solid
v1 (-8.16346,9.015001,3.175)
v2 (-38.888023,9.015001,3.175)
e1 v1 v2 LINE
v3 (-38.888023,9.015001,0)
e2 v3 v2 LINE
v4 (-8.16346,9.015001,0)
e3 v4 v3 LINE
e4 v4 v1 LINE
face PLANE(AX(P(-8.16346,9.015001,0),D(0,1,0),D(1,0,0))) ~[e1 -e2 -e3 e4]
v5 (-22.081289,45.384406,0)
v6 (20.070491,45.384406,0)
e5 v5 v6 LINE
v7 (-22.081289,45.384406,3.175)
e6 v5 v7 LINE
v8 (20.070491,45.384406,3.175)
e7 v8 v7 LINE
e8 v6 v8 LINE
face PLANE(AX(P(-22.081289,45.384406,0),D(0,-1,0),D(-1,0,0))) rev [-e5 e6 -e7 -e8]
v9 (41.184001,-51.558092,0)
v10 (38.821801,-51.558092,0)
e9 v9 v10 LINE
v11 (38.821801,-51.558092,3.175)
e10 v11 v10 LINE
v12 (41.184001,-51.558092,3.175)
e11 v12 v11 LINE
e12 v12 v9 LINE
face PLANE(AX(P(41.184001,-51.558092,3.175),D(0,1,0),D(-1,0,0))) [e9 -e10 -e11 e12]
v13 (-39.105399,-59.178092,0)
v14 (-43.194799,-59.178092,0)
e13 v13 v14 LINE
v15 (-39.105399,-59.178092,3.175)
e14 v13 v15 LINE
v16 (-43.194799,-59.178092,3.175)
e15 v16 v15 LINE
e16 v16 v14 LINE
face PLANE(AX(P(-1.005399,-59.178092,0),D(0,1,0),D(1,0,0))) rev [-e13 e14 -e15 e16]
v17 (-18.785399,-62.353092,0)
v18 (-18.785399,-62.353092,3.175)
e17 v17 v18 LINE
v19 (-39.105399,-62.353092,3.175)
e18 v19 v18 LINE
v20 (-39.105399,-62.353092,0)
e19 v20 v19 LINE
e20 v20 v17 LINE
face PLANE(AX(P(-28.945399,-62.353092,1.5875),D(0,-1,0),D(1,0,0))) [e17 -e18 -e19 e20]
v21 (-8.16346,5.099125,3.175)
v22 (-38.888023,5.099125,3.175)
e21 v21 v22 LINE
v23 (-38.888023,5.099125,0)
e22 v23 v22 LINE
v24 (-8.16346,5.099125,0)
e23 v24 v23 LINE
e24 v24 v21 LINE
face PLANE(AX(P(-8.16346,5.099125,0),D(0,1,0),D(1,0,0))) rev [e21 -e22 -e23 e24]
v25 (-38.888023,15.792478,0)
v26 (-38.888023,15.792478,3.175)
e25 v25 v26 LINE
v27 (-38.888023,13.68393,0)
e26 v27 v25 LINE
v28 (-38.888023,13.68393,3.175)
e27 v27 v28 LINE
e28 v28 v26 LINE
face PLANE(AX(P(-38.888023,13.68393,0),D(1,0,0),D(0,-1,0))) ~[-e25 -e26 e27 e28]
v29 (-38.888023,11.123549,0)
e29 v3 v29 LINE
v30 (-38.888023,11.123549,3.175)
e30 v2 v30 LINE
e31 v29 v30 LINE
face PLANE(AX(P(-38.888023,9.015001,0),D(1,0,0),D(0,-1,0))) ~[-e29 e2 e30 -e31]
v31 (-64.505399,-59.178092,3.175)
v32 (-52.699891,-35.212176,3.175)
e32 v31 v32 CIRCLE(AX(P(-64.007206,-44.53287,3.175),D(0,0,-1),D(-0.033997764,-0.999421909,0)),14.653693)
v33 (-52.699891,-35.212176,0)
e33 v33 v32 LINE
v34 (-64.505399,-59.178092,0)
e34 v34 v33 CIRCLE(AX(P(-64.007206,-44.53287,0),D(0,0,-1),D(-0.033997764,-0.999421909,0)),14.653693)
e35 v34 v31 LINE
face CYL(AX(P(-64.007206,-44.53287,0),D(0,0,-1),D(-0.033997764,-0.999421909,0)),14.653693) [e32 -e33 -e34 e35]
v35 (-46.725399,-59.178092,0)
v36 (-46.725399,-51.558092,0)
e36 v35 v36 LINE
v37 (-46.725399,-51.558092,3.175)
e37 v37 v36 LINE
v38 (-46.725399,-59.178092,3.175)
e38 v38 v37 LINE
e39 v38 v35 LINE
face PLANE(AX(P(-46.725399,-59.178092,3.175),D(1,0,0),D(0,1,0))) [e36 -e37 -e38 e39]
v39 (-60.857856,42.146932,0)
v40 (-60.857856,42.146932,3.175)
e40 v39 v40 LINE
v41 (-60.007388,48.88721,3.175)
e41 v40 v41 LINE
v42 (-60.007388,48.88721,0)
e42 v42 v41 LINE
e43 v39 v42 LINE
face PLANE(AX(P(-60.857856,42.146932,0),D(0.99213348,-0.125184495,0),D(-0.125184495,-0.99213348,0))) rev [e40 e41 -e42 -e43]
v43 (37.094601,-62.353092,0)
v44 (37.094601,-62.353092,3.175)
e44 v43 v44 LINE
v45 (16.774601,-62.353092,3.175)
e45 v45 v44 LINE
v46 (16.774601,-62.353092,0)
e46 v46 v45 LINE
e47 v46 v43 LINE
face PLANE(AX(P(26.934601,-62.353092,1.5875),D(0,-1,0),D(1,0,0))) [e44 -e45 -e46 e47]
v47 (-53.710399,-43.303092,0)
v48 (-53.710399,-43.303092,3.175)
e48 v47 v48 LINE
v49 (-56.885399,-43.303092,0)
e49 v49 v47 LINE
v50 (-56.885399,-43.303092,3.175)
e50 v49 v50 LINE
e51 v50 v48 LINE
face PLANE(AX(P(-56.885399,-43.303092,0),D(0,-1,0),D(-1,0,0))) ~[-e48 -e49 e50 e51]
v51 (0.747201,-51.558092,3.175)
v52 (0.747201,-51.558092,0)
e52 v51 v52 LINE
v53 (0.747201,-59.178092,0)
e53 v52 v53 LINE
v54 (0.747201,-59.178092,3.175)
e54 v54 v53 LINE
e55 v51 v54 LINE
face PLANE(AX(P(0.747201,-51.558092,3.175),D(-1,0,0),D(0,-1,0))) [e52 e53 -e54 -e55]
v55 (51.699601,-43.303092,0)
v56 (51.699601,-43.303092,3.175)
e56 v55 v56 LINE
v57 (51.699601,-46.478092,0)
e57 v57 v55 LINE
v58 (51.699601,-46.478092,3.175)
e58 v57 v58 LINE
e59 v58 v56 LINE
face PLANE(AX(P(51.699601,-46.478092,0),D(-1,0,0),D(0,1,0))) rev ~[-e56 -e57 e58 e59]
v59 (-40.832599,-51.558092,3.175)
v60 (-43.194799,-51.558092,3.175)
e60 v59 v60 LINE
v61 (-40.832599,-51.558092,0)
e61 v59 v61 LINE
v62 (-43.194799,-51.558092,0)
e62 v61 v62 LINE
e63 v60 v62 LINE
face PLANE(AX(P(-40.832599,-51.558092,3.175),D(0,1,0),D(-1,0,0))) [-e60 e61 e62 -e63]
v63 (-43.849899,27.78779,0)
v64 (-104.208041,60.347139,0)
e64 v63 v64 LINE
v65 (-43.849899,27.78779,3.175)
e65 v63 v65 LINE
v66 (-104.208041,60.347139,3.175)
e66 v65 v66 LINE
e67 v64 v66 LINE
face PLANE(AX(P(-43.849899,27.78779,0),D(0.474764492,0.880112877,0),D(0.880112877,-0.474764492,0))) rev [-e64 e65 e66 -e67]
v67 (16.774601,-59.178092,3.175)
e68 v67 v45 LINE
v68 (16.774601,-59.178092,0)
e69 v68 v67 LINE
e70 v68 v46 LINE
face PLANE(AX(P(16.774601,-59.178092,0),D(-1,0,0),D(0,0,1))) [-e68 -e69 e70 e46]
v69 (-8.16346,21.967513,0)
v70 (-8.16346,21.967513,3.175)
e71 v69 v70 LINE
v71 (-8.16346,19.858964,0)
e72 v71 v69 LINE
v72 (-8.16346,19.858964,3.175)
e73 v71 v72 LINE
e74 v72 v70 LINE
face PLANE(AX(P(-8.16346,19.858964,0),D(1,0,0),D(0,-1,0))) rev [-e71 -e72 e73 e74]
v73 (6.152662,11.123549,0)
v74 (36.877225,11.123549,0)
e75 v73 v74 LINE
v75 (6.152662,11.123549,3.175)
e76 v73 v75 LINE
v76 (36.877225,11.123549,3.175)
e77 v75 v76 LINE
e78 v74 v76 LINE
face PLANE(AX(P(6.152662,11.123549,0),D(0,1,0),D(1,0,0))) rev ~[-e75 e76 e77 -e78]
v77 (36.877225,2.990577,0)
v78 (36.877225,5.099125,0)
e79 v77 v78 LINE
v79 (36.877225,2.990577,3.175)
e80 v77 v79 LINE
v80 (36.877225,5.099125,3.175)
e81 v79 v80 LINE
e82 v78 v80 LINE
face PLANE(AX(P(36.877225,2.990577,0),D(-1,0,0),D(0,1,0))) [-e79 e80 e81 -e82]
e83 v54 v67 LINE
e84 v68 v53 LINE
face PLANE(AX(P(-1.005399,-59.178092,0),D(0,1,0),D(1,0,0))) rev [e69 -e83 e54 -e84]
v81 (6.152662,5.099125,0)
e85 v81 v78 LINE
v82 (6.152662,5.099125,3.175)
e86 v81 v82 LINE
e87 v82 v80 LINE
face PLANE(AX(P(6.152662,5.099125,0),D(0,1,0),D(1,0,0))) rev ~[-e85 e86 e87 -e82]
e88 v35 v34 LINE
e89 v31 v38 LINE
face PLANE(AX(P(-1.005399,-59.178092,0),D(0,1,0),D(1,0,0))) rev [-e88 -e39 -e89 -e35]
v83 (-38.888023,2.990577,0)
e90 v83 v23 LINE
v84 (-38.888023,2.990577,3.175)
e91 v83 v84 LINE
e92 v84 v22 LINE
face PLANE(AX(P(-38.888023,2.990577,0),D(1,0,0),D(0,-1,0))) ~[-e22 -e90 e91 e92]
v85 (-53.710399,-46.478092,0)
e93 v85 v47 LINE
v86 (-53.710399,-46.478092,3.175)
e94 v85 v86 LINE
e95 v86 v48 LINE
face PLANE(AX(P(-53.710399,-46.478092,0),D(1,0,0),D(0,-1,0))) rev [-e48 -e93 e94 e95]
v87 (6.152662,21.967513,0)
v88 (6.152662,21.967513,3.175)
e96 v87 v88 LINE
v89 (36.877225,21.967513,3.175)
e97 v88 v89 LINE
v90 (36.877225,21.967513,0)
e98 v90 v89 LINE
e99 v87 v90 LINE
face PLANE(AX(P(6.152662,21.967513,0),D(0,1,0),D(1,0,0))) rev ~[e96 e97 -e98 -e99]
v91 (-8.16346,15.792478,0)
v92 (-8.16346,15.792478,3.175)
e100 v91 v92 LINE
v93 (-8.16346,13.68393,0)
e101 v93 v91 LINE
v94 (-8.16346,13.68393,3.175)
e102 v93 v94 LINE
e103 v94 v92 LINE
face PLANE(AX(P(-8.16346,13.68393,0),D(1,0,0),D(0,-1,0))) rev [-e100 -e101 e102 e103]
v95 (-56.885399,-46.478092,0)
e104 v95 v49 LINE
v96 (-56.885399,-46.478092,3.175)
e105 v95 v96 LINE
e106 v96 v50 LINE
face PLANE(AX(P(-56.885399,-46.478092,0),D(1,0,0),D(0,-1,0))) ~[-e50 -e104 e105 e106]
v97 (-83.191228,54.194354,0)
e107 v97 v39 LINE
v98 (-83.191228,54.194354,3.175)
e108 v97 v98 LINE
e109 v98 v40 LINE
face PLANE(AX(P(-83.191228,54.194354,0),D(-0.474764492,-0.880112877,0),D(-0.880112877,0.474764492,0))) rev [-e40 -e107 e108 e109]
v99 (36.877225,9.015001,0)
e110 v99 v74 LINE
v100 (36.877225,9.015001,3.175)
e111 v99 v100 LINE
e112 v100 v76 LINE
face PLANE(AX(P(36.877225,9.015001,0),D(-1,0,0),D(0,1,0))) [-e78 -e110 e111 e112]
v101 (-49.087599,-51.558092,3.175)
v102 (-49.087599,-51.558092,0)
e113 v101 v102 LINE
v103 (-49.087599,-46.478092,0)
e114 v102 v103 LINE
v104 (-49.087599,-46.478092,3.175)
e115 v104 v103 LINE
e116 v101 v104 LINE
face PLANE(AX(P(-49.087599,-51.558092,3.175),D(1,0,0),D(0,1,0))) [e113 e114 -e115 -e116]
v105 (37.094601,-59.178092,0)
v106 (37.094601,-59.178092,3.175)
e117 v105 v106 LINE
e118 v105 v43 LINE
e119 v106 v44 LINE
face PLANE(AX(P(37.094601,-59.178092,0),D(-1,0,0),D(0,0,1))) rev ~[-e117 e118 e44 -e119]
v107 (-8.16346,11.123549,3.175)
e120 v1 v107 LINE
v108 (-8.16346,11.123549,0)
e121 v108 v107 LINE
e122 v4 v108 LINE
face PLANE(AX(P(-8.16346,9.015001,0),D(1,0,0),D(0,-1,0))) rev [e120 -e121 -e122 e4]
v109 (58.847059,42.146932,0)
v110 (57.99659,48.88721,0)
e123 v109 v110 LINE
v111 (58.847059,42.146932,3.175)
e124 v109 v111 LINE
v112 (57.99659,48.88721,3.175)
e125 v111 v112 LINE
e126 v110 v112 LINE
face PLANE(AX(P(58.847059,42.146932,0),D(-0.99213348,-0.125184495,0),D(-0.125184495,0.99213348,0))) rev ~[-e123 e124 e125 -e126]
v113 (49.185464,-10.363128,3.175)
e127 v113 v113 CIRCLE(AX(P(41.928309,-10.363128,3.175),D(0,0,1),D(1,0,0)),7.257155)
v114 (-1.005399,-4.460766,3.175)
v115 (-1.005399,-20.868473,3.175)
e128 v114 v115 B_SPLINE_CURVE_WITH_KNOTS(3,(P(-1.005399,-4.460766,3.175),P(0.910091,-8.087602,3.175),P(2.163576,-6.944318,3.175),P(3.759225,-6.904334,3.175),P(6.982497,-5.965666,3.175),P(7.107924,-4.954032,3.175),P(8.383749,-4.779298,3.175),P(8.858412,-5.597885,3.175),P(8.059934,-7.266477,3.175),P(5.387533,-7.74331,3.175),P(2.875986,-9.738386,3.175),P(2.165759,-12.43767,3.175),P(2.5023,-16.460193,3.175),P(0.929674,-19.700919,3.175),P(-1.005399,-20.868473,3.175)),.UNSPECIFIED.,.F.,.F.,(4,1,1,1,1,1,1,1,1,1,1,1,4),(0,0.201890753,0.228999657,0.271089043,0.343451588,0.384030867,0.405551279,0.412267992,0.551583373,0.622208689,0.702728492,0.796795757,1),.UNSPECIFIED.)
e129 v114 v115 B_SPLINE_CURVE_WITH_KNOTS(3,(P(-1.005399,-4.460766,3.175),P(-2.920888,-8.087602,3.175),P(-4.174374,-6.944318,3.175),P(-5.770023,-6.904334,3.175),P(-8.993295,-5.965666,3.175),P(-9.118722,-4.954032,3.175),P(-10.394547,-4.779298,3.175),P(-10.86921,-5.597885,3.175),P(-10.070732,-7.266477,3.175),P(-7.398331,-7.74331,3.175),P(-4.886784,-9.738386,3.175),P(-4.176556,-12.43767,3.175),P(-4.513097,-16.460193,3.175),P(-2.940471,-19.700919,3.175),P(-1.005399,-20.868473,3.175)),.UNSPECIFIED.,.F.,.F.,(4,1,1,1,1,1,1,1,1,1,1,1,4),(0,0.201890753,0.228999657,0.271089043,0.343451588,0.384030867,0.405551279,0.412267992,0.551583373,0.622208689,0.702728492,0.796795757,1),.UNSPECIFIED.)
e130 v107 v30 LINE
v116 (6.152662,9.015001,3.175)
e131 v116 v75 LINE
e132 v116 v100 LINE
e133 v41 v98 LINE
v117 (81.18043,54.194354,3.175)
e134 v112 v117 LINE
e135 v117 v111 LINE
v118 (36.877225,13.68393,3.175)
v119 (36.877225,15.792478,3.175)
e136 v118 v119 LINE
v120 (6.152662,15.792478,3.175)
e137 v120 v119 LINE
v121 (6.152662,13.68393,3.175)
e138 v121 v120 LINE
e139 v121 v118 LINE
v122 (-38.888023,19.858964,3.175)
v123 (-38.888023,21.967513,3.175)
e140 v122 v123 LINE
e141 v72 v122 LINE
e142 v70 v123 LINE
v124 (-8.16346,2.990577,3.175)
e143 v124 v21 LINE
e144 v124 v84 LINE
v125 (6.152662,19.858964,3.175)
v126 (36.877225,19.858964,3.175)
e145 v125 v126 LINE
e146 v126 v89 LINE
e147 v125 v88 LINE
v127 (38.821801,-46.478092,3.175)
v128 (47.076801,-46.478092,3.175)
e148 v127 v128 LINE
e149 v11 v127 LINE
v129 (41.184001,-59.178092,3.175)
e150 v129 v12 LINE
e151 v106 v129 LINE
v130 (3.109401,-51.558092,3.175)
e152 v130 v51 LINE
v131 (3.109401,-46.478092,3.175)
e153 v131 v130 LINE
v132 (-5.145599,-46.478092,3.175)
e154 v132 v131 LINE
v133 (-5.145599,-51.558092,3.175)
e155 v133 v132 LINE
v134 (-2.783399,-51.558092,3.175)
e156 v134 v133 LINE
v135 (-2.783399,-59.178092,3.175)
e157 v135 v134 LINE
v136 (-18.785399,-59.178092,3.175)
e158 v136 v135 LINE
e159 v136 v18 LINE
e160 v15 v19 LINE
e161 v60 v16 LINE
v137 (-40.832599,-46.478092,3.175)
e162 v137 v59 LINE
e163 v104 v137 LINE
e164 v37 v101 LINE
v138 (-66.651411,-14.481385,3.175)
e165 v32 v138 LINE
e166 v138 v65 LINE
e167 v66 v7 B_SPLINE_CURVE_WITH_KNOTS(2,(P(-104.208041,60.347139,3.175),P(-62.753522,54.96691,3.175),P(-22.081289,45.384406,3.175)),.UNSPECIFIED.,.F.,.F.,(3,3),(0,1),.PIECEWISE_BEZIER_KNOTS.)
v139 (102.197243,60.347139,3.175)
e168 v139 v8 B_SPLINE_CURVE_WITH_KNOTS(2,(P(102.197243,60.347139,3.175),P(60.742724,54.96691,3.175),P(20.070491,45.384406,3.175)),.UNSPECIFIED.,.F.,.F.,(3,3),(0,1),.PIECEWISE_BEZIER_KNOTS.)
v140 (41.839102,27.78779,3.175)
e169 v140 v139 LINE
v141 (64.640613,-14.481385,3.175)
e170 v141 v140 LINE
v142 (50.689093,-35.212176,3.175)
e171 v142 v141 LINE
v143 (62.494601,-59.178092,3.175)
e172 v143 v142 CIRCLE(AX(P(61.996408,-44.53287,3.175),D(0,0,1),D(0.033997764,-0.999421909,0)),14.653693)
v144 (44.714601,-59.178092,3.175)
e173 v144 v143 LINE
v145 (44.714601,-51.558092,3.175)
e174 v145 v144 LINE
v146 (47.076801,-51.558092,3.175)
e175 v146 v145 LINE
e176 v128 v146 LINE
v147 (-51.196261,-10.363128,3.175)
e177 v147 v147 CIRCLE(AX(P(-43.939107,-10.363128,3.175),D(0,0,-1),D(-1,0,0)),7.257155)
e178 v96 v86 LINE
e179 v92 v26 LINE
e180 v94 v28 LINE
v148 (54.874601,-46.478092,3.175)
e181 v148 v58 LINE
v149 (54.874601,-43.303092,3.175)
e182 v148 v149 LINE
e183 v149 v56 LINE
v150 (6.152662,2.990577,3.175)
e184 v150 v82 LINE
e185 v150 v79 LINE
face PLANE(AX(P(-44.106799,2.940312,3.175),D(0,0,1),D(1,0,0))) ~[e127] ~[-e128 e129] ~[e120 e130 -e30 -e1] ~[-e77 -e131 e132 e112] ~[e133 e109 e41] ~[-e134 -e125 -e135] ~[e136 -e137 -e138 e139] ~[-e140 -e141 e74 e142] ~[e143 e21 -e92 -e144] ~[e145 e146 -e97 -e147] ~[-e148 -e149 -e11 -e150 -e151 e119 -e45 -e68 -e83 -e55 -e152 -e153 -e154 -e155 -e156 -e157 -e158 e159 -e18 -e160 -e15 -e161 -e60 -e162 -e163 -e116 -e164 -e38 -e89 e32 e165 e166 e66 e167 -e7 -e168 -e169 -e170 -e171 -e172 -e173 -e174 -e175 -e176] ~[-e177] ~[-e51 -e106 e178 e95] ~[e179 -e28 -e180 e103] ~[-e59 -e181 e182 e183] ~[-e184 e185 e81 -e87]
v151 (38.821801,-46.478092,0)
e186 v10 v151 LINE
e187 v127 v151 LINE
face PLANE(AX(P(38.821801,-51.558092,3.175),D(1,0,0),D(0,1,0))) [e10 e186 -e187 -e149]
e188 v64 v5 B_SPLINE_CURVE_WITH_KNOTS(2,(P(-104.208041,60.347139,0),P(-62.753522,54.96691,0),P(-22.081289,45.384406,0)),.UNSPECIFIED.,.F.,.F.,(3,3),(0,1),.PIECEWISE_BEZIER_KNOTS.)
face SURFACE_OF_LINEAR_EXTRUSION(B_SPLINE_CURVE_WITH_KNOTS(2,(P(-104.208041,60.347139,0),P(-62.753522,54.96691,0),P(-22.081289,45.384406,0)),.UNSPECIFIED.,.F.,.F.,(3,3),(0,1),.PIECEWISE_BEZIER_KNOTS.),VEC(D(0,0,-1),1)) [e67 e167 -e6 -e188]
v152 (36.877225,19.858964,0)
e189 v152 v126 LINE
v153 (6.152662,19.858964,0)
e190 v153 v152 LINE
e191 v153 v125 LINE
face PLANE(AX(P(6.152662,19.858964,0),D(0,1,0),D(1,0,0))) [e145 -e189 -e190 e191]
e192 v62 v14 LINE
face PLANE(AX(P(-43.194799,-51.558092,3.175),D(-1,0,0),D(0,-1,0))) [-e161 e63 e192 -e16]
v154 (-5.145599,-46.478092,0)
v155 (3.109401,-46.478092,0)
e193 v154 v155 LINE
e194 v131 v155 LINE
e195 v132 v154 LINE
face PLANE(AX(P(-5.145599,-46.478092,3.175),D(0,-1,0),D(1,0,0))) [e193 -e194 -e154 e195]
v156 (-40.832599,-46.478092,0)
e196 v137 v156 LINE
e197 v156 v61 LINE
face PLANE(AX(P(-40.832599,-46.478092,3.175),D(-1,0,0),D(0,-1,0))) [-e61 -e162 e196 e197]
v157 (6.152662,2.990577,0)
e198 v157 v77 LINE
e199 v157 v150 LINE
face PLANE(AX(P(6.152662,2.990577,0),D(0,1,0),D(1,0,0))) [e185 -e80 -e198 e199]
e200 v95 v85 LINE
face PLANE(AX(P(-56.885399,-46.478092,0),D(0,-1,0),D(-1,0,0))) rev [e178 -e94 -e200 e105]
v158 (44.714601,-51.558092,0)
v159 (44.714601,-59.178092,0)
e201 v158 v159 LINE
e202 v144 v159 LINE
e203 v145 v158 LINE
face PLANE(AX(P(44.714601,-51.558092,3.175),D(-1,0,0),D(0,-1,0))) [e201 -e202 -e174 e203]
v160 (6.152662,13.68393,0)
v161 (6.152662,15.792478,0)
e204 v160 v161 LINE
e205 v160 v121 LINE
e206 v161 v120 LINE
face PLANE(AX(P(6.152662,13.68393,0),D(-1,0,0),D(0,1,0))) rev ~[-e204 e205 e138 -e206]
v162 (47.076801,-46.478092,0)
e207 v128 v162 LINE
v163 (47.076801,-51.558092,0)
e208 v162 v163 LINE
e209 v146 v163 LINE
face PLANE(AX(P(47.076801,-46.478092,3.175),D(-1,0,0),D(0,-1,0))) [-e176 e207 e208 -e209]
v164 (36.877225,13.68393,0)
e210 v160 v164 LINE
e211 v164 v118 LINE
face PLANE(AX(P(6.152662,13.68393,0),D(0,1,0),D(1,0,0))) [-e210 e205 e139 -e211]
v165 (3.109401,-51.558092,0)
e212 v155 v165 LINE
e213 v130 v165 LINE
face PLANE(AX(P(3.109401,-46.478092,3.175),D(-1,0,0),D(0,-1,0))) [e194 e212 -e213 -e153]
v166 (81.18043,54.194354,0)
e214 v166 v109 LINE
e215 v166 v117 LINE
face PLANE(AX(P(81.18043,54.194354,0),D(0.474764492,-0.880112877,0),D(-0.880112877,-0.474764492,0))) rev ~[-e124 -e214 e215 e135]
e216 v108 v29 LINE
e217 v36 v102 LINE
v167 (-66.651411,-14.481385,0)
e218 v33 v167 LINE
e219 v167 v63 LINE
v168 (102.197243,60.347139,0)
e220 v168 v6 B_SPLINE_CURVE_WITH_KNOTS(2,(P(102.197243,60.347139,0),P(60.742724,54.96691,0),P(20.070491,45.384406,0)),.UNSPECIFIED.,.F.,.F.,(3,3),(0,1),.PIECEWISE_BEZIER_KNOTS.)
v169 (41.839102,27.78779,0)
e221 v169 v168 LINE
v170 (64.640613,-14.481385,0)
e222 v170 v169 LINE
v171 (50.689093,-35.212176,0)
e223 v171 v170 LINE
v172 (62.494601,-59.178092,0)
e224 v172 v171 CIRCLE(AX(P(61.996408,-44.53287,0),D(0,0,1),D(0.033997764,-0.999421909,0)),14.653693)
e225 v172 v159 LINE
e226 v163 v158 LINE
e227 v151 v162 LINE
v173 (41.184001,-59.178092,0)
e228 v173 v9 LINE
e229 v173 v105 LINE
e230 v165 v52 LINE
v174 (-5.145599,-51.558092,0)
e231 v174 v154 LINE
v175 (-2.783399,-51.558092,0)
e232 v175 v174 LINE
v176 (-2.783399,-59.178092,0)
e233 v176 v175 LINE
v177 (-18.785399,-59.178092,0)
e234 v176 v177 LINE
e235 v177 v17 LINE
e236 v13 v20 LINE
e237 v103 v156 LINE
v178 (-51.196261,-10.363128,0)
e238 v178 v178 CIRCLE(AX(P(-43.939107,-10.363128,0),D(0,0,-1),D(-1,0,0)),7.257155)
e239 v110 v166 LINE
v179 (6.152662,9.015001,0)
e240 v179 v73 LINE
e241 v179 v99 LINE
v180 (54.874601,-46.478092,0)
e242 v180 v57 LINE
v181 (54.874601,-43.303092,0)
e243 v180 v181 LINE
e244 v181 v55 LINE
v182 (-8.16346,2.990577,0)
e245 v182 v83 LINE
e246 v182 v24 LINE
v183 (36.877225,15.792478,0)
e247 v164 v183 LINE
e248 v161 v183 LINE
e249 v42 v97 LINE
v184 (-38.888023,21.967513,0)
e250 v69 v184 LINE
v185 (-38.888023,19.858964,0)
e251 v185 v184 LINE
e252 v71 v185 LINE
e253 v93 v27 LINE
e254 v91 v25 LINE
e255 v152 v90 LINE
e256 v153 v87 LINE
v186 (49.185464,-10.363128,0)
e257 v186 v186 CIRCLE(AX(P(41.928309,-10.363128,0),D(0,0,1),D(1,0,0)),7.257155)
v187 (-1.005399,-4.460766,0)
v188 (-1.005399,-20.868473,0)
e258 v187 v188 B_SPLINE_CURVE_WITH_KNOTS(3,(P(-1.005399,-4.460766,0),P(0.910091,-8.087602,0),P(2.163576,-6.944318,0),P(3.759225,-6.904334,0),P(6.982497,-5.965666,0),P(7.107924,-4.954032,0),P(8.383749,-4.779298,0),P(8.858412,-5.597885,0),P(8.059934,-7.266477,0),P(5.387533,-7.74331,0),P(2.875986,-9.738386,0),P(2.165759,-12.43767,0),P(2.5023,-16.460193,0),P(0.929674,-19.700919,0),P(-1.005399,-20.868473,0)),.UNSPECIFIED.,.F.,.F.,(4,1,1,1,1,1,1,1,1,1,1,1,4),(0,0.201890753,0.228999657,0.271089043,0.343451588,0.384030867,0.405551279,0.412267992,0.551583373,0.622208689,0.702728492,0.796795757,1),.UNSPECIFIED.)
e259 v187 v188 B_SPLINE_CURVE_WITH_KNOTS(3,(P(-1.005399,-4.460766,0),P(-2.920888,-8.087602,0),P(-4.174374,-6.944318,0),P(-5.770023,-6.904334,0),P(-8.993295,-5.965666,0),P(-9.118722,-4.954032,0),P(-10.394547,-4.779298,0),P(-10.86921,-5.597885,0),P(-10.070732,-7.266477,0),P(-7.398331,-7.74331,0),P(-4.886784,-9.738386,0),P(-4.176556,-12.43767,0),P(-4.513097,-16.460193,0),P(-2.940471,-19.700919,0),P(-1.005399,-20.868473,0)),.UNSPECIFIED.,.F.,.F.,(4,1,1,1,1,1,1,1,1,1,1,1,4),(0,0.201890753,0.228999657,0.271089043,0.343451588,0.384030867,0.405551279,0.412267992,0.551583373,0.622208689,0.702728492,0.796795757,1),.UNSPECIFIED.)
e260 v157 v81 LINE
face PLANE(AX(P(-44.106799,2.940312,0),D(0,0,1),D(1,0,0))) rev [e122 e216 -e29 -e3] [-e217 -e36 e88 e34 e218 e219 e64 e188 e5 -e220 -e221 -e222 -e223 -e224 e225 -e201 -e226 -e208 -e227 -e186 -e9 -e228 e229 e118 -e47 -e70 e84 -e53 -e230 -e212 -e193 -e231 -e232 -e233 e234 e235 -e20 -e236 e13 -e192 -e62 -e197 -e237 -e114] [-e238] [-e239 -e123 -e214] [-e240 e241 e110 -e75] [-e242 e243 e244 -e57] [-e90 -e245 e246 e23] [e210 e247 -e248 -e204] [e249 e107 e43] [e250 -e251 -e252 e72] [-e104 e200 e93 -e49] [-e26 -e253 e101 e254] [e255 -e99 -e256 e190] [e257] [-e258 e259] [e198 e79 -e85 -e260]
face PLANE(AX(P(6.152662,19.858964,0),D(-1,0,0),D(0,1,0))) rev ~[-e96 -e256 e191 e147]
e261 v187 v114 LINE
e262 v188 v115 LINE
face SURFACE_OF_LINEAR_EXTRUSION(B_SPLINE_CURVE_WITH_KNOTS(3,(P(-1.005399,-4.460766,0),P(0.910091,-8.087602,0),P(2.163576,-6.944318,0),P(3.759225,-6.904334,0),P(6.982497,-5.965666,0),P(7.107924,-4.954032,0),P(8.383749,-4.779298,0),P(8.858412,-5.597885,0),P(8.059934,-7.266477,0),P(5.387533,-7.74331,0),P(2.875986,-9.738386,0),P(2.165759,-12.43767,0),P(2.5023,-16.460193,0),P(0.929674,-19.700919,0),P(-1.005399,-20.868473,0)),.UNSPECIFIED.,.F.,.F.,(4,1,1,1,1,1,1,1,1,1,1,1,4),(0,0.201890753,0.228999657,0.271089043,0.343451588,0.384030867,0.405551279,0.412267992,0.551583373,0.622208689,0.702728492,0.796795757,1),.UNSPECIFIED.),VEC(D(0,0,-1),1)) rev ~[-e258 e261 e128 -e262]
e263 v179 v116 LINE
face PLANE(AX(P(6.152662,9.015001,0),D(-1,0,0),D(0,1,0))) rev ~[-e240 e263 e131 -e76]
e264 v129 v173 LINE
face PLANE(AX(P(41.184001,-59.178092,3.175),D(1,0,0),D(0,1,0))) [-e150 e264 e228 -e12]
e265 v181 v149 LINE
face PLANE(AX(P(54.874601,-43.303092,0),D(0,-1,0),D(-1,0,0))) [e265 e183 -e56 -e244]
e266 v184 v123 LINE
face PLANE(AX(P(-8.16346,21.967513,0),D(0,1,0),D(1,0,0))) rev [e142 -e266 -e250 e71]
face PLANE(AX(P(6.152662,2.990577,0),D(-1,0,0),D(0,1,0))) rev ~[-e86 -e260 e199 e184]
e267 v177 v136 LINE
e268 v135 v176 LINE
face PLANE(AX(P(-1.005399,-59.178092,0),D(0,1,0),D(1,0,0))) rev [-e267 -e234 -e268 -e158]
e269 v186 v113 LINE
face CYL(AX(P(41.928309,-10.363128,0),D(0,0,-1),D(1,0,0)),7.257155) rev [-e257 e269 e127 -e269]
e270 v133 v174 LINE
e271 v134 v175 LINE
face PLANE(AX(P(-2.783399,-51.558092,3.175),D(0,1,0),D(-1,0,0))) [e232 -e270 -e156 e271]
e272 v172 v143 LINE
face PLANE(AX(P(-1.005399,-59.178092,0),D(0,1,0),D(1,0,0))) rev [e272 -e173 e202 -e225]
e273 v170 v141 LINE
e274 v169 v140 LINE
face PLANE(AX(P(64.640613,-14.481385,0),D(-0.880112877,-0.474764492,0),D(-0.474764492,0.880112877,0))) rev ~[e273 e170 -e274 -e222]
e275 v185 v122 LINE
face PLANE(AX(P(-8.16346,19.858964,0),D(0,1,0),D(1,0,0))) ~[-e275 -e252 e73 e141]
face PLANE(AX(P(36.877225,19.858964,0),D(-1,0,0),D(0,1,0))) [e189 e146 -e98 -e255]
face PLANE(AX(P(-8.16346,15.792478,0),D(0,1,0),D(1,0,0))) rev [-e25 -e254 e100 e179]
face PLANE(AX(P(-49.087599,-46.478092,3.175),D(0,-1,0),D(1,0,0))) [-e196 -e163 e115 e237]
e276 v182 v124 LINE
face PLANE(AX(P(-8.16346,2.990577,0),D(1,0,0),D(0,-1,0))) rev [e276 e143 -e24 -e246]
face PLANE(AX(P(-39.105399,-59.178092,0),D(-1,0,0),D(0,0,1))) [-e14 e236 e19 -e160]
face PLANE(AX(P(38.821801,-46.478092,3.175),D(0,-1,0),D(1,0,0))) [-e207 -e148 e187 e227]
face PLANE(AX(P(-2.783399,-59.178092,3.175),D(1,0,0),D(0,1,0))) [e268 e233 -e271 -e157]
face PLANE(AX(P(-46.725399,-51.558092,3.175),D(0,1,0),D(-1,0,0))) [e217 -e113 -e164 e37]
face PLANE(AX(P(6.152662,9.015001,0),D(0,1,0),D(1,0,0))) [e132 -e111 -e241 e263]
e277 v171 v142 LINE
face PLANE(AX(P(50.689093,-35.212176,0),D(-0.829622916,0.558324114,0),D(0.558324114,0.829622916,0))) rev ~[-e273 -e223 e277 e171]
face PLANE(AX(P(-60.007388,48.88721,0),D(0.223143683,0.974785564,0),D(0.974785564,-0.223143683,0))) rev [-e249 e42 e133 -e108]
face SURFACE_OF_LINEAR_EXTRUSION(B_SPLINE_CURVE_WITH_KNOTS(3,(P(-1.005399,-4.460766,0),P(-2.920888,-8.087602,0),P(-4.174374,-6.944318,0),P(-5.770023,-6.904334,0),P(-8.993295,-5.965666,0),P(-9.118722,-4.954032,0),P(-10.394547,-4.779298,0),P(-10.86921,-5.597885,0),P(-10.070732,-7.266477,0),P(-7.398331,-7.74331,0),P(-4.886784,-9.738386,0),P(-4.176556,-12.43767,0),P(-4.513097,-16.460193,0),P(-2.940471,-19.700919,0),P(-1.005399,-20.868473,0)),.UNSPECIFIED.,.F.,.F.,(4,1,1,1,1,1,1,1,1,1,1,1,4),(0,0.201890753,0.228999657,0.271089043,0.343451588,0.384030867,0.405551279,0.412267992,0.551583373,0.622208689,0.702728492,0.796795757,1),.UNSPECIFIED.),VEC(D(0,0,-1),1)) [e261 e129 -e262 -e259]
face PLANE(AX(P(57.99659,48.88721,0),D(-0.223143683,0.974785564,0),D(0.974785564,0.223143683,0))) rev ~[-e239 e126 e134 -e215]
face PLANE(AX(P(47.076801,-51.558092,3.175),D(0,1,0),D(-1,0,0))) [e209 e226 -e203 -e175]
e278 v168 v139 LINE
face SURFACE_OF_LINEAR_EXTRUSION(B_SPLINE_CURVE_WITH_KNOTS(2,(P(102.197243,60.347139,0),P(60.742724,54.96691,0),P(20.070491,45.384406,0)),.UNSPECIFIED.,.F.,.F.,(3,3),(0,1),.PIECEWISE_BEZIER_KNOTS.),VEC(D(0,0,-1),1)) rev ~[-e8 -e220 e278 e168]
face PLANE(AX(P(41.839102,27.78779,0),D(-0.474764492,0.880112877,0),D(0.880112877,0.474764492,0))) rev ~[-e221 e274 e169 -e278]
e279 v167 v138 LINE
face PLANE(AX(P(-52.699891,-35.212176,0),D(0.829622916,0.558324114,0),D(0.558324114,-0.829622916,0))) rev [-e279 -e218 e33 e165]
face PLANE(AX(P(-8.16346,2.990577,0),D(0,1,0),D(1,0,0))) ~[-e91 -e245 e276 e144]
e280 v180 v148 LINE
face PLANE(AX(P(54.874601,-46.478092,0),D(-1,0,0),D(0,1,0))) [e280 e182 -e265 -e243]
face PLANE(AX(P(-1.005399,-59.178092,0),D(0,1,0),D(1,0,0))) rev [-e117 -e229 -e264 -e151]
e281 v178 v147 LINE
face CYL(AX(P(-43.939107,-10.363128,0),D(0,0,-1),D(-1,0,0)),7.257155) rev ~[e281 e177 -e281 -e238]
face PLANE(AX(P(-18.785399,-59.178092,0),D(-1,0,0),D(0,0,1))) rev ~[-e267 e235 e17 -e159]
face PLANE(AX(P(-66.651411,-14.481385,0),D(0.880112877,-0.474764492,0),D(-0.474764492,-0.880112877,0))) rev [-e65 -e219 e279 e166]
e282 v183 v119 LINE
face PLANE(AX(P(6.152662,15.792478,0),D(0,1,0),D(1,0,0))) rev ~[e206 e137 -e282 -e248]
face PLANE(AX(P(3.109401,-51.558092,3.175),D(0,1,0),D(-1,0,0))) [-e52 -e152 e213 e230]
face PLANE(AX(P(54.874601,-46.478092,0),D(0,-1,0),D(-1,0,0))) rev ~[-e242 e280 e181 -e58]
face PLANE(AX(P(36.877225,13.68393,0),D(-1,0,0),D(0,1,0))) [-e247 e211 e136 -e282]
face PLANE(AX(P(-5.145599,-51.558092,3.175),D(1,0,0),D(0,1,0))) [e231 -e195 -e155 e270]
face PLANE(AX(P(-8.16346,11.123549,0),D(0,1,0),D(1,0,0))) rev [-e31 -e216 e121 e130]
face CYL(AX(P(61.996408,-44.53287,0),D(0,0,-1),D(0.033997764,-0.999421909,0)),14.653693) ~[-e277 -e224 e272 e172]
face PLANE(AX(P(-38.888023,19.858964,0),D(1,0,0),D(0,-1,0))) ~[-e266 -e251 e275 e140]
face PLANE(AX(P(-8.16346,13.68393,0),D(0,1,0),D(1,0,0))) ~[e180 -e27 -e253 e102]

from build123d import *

# Parameters (mm, degrees)
BOSS_EXTRUDE1_DEPTH = 3.175
SKETCH6_R           = 7.257154646
CUT_EXTRUDE5_DEPTH  = 3.175
SKETCH9_W           = 3.175
SKETCH9_H           = 3.175
CUT_EXTRUDE7_DEPTH  = 3.175
SKETCH8_W           = 30.724562626
SKETCH8_H           = 2.108548415
SKETCH8_H_2         = 2.108548416
CUT_EXTRUDE6_DEPTH  = 3.175
SKETCH10_W          = 20.32
SKETCH10_H          = 3.175
BOSS_EXTRUDE2_DEPTH = 3.175
CUT_EXTRUDE8_DEPTH  = 3.175


with BuildPart() as part:
    # Sketch1 → Boss-Extrude1 (new body)
    with BuildSketch(Plane.XY):
        with BuildLine():
            Line((41.839101774, 27.787790455), (102.197242912, 60.347139319))
            add(Edge.make_bspline(
                [(102.197242912, 60.347139319), (60.742723961, 54.966910385), (20.07049128, 45.384405553)],
                knots=[0, 0, 0, 1, 1, 1], degree=2))
            Line((20.07049128, 45.384405553), (-1.005398806, 45.384405553))
            Line((-1.005398806, 45.384405553), (-1.005398806, -59.17809155))
            Line((-1.005398806, -59.17809155), (62.494601194, -59.17809155))
            ThreePointArc((62.494601194, -59.17809155), (75.141770938, -38.057520175), (50.68909305, -35.212176281))
            Line((50.68909305, -35.212176281), (64.64061298, -14.48138505))
            Line((64.64061298, -14.48138505), (41.839101774, 27.787790455))
        make_face()
    boss_extrude1 = extrude(amount=BOSS_EXTRUDE1_DEPTH)

    # Sketch6 → Cut-Extrude5 (cut)
    with BuildSketch(Plane.XY):
        with Locations((41.928309242, -10.363128131)):
            Circle(SKETCH6_R)
        Polygon((57.996590192, 48.887210307), (81.18043036, 54.194354442), (58.847058779, 42.146931793), align=None)
        with BuildLine():
            Line((-1.005398806, -4.460766145), (-1.005398806, -20.868472516))
            add(Edge.make_bspline(
                [(-1.005398806, -4.460766145), (0.91009084, -8.087601817), (2.163575929, -6.944318239), (3.759225089, -6.904333812), (6.982497489, -5.965665574), (7.107924345, -4.954032148), (8.383749268, -4.7792984), (8.858412265, -5.597884514), (8.059934477, -7.266476525), (5.387533009, -7.743309848), (2.87598619, -9.738386244), (2.165758509, -12.437670072), (2.502299568, -16.460193064), (0.929673731, -19.700918611), (-1.005398806, -20.868472516)],
                knots=[0, 0, 0, 0, 0.201890753, 0.228999657, 0.271089043, 0.343451588, 0.384030867, 0.405551279, 0.412267992, 0.551583373, 0.622208689, 0.702728492, 0.796795757, 1, 1, 1, 1], degree=3))
        make_face()
    cut_extrude5 = extrude(amount=CUT_EXTRUDE5_DEPTH, mode=Mode.SUBTRACT)

    # Sketch9 → Cut-Extrude7 (cut)
    with BuildSketch(Plane(origin=(0, 0, 0), x_dir=(-1, 0, 0), z_dir=(0, 0, -1))):
        with Locations((-53.287101194, -44.89059155)):
            Rectangle(SKETCH9_W, SKETCH9_H)
    cut_extrude7 = extrude(amount=-CUT_EXTRUDE7_DEPTH, mode=Mode.SUBTRACT)

    # Sketch8 → Cut-Extrude6 (cut)
    with BuildSketch(Plane.XY):
        with Locations((-23.52574119, 20.913238549)):
            Rectangle(SKETCH8_W, SKETCH8_H)
        with Locations((-23.52574119, 14.738203903)):
            Rectangle(SKETCH8_W, SKETCH8_H_2)
        with Locations((-23.52574119, 10.069275269)):
            Rectangle(SKETCH8_W, SKETCH8_H)
        with Locations((-23.52574119, 4.044851224)):
            Rectangle(SKETCH8_W, SKETCH8_H_2)
        with Locations((21.514943577, 4.044851224)):
            Rectangle(SKETCH8_W, SKETCH8_H_2)
        with Locations((21.514943577, 10.069275269)):
            Rectangle(SKETCH8_W, SKETCH8_H)
        with Locations((21.514943577, 14.738203903)):
            Rectangle(SKETCH8_W, SKETCH8_H_2)
        with Locations((21.514943577, 20.913238549)):
            Rectangle(SKETCH8_W, SKETCH8_H)
    cut_extrude6 = extrude(amount=CUT_EXTRUDE6_DEPTH, mode=Mode.SUBTRACT)

    # Mirror4: Boss-Extrude1, Cut-Extrude5, Cut-Extrude7, Cut-Extrude6 across plane
    add(boss_extrude1.mirror(Plane(origin=(-1.005398806, 0, 3.175), x_dir=(0, 0, 1), z_dir=(1, 0, 0))))
    add(cut_extrude5.mirror(Plane(origin=(-1.005398806, 0, 3.175), x_dir=(0, 0, 1), z_dir=(1, 0, 0))), mode=Mode.SUBTRACT)
    add(cut_extrude7.mirror(Plane(origin=(-1.005398806, 0, 3.175), x_dir=(0, 0, 1), z_dir=(1, 0, 0))), mode=Mode.SUBTRACT)
    add(cut_extrude6.mirror(Plane(origin=(-1.005398806, 0, 3.175), x_dir=(0, 0, 1), z_dir=(1, 0, 0))), mode=Mode.SUBTRACT)

    # Sketch10 → Boss-Extrude2 (add)
    with BuildSketch(Plane.XZ.offset(59.17809155)):
        with Locations((-28.945398806, 1.5875)):
            Rectangle(SKETCH10_W, SKETCH10_H)
        with Locations((26.934601194, 1.5875)):
            Rectangle(SKETCH10_W, SKETCH10_H)
    extrude(amount=BOSS_EXTRUDE2_DEPTH)

    # Sketch11 → Cut-Extrude8 (cut)
    with BuildSketch(Plane.XY.offset(3.175)):
        Polygon((-49.087598806, -51.55809155), (-49.087598806, -46.47809155), (-40.832598806, -46.47809155), (-40.832598806, -51.55809155), (-43.194798806, -51.55809155), (-43.194798806, -59.17809155), (-46.725398806, -59.17809155), (-46.725398806, -51.55809155), align=None)
        Polygon((-5.145598806, -51.55809155), (-5.145598806, -46.47809155), (3.109401194, -46.47809155), (3.109401194, -51.55809155), (0.747201194, -51.55809155), (0.747201194, -59.17809155), (-2.783398806, -59.17809155), (-2.783398806, -51.55809155), align=None)
        Polygon((38.821801194, -51.55809155), (38.821801194, -46.47809155), (47.076801194, -46.47809155), (47.076801194, -51.55809155), (44.714601194, -51.55809155), (44.714601194, -59.17809155), (41.184001194, -59.17809155), (41.184001194, -51.55809155), align=None)
    extrude(amount=-CUT_EXTRUDE8_DEPTH, mode=Mode.SUBTRACT)


solid = part.part
